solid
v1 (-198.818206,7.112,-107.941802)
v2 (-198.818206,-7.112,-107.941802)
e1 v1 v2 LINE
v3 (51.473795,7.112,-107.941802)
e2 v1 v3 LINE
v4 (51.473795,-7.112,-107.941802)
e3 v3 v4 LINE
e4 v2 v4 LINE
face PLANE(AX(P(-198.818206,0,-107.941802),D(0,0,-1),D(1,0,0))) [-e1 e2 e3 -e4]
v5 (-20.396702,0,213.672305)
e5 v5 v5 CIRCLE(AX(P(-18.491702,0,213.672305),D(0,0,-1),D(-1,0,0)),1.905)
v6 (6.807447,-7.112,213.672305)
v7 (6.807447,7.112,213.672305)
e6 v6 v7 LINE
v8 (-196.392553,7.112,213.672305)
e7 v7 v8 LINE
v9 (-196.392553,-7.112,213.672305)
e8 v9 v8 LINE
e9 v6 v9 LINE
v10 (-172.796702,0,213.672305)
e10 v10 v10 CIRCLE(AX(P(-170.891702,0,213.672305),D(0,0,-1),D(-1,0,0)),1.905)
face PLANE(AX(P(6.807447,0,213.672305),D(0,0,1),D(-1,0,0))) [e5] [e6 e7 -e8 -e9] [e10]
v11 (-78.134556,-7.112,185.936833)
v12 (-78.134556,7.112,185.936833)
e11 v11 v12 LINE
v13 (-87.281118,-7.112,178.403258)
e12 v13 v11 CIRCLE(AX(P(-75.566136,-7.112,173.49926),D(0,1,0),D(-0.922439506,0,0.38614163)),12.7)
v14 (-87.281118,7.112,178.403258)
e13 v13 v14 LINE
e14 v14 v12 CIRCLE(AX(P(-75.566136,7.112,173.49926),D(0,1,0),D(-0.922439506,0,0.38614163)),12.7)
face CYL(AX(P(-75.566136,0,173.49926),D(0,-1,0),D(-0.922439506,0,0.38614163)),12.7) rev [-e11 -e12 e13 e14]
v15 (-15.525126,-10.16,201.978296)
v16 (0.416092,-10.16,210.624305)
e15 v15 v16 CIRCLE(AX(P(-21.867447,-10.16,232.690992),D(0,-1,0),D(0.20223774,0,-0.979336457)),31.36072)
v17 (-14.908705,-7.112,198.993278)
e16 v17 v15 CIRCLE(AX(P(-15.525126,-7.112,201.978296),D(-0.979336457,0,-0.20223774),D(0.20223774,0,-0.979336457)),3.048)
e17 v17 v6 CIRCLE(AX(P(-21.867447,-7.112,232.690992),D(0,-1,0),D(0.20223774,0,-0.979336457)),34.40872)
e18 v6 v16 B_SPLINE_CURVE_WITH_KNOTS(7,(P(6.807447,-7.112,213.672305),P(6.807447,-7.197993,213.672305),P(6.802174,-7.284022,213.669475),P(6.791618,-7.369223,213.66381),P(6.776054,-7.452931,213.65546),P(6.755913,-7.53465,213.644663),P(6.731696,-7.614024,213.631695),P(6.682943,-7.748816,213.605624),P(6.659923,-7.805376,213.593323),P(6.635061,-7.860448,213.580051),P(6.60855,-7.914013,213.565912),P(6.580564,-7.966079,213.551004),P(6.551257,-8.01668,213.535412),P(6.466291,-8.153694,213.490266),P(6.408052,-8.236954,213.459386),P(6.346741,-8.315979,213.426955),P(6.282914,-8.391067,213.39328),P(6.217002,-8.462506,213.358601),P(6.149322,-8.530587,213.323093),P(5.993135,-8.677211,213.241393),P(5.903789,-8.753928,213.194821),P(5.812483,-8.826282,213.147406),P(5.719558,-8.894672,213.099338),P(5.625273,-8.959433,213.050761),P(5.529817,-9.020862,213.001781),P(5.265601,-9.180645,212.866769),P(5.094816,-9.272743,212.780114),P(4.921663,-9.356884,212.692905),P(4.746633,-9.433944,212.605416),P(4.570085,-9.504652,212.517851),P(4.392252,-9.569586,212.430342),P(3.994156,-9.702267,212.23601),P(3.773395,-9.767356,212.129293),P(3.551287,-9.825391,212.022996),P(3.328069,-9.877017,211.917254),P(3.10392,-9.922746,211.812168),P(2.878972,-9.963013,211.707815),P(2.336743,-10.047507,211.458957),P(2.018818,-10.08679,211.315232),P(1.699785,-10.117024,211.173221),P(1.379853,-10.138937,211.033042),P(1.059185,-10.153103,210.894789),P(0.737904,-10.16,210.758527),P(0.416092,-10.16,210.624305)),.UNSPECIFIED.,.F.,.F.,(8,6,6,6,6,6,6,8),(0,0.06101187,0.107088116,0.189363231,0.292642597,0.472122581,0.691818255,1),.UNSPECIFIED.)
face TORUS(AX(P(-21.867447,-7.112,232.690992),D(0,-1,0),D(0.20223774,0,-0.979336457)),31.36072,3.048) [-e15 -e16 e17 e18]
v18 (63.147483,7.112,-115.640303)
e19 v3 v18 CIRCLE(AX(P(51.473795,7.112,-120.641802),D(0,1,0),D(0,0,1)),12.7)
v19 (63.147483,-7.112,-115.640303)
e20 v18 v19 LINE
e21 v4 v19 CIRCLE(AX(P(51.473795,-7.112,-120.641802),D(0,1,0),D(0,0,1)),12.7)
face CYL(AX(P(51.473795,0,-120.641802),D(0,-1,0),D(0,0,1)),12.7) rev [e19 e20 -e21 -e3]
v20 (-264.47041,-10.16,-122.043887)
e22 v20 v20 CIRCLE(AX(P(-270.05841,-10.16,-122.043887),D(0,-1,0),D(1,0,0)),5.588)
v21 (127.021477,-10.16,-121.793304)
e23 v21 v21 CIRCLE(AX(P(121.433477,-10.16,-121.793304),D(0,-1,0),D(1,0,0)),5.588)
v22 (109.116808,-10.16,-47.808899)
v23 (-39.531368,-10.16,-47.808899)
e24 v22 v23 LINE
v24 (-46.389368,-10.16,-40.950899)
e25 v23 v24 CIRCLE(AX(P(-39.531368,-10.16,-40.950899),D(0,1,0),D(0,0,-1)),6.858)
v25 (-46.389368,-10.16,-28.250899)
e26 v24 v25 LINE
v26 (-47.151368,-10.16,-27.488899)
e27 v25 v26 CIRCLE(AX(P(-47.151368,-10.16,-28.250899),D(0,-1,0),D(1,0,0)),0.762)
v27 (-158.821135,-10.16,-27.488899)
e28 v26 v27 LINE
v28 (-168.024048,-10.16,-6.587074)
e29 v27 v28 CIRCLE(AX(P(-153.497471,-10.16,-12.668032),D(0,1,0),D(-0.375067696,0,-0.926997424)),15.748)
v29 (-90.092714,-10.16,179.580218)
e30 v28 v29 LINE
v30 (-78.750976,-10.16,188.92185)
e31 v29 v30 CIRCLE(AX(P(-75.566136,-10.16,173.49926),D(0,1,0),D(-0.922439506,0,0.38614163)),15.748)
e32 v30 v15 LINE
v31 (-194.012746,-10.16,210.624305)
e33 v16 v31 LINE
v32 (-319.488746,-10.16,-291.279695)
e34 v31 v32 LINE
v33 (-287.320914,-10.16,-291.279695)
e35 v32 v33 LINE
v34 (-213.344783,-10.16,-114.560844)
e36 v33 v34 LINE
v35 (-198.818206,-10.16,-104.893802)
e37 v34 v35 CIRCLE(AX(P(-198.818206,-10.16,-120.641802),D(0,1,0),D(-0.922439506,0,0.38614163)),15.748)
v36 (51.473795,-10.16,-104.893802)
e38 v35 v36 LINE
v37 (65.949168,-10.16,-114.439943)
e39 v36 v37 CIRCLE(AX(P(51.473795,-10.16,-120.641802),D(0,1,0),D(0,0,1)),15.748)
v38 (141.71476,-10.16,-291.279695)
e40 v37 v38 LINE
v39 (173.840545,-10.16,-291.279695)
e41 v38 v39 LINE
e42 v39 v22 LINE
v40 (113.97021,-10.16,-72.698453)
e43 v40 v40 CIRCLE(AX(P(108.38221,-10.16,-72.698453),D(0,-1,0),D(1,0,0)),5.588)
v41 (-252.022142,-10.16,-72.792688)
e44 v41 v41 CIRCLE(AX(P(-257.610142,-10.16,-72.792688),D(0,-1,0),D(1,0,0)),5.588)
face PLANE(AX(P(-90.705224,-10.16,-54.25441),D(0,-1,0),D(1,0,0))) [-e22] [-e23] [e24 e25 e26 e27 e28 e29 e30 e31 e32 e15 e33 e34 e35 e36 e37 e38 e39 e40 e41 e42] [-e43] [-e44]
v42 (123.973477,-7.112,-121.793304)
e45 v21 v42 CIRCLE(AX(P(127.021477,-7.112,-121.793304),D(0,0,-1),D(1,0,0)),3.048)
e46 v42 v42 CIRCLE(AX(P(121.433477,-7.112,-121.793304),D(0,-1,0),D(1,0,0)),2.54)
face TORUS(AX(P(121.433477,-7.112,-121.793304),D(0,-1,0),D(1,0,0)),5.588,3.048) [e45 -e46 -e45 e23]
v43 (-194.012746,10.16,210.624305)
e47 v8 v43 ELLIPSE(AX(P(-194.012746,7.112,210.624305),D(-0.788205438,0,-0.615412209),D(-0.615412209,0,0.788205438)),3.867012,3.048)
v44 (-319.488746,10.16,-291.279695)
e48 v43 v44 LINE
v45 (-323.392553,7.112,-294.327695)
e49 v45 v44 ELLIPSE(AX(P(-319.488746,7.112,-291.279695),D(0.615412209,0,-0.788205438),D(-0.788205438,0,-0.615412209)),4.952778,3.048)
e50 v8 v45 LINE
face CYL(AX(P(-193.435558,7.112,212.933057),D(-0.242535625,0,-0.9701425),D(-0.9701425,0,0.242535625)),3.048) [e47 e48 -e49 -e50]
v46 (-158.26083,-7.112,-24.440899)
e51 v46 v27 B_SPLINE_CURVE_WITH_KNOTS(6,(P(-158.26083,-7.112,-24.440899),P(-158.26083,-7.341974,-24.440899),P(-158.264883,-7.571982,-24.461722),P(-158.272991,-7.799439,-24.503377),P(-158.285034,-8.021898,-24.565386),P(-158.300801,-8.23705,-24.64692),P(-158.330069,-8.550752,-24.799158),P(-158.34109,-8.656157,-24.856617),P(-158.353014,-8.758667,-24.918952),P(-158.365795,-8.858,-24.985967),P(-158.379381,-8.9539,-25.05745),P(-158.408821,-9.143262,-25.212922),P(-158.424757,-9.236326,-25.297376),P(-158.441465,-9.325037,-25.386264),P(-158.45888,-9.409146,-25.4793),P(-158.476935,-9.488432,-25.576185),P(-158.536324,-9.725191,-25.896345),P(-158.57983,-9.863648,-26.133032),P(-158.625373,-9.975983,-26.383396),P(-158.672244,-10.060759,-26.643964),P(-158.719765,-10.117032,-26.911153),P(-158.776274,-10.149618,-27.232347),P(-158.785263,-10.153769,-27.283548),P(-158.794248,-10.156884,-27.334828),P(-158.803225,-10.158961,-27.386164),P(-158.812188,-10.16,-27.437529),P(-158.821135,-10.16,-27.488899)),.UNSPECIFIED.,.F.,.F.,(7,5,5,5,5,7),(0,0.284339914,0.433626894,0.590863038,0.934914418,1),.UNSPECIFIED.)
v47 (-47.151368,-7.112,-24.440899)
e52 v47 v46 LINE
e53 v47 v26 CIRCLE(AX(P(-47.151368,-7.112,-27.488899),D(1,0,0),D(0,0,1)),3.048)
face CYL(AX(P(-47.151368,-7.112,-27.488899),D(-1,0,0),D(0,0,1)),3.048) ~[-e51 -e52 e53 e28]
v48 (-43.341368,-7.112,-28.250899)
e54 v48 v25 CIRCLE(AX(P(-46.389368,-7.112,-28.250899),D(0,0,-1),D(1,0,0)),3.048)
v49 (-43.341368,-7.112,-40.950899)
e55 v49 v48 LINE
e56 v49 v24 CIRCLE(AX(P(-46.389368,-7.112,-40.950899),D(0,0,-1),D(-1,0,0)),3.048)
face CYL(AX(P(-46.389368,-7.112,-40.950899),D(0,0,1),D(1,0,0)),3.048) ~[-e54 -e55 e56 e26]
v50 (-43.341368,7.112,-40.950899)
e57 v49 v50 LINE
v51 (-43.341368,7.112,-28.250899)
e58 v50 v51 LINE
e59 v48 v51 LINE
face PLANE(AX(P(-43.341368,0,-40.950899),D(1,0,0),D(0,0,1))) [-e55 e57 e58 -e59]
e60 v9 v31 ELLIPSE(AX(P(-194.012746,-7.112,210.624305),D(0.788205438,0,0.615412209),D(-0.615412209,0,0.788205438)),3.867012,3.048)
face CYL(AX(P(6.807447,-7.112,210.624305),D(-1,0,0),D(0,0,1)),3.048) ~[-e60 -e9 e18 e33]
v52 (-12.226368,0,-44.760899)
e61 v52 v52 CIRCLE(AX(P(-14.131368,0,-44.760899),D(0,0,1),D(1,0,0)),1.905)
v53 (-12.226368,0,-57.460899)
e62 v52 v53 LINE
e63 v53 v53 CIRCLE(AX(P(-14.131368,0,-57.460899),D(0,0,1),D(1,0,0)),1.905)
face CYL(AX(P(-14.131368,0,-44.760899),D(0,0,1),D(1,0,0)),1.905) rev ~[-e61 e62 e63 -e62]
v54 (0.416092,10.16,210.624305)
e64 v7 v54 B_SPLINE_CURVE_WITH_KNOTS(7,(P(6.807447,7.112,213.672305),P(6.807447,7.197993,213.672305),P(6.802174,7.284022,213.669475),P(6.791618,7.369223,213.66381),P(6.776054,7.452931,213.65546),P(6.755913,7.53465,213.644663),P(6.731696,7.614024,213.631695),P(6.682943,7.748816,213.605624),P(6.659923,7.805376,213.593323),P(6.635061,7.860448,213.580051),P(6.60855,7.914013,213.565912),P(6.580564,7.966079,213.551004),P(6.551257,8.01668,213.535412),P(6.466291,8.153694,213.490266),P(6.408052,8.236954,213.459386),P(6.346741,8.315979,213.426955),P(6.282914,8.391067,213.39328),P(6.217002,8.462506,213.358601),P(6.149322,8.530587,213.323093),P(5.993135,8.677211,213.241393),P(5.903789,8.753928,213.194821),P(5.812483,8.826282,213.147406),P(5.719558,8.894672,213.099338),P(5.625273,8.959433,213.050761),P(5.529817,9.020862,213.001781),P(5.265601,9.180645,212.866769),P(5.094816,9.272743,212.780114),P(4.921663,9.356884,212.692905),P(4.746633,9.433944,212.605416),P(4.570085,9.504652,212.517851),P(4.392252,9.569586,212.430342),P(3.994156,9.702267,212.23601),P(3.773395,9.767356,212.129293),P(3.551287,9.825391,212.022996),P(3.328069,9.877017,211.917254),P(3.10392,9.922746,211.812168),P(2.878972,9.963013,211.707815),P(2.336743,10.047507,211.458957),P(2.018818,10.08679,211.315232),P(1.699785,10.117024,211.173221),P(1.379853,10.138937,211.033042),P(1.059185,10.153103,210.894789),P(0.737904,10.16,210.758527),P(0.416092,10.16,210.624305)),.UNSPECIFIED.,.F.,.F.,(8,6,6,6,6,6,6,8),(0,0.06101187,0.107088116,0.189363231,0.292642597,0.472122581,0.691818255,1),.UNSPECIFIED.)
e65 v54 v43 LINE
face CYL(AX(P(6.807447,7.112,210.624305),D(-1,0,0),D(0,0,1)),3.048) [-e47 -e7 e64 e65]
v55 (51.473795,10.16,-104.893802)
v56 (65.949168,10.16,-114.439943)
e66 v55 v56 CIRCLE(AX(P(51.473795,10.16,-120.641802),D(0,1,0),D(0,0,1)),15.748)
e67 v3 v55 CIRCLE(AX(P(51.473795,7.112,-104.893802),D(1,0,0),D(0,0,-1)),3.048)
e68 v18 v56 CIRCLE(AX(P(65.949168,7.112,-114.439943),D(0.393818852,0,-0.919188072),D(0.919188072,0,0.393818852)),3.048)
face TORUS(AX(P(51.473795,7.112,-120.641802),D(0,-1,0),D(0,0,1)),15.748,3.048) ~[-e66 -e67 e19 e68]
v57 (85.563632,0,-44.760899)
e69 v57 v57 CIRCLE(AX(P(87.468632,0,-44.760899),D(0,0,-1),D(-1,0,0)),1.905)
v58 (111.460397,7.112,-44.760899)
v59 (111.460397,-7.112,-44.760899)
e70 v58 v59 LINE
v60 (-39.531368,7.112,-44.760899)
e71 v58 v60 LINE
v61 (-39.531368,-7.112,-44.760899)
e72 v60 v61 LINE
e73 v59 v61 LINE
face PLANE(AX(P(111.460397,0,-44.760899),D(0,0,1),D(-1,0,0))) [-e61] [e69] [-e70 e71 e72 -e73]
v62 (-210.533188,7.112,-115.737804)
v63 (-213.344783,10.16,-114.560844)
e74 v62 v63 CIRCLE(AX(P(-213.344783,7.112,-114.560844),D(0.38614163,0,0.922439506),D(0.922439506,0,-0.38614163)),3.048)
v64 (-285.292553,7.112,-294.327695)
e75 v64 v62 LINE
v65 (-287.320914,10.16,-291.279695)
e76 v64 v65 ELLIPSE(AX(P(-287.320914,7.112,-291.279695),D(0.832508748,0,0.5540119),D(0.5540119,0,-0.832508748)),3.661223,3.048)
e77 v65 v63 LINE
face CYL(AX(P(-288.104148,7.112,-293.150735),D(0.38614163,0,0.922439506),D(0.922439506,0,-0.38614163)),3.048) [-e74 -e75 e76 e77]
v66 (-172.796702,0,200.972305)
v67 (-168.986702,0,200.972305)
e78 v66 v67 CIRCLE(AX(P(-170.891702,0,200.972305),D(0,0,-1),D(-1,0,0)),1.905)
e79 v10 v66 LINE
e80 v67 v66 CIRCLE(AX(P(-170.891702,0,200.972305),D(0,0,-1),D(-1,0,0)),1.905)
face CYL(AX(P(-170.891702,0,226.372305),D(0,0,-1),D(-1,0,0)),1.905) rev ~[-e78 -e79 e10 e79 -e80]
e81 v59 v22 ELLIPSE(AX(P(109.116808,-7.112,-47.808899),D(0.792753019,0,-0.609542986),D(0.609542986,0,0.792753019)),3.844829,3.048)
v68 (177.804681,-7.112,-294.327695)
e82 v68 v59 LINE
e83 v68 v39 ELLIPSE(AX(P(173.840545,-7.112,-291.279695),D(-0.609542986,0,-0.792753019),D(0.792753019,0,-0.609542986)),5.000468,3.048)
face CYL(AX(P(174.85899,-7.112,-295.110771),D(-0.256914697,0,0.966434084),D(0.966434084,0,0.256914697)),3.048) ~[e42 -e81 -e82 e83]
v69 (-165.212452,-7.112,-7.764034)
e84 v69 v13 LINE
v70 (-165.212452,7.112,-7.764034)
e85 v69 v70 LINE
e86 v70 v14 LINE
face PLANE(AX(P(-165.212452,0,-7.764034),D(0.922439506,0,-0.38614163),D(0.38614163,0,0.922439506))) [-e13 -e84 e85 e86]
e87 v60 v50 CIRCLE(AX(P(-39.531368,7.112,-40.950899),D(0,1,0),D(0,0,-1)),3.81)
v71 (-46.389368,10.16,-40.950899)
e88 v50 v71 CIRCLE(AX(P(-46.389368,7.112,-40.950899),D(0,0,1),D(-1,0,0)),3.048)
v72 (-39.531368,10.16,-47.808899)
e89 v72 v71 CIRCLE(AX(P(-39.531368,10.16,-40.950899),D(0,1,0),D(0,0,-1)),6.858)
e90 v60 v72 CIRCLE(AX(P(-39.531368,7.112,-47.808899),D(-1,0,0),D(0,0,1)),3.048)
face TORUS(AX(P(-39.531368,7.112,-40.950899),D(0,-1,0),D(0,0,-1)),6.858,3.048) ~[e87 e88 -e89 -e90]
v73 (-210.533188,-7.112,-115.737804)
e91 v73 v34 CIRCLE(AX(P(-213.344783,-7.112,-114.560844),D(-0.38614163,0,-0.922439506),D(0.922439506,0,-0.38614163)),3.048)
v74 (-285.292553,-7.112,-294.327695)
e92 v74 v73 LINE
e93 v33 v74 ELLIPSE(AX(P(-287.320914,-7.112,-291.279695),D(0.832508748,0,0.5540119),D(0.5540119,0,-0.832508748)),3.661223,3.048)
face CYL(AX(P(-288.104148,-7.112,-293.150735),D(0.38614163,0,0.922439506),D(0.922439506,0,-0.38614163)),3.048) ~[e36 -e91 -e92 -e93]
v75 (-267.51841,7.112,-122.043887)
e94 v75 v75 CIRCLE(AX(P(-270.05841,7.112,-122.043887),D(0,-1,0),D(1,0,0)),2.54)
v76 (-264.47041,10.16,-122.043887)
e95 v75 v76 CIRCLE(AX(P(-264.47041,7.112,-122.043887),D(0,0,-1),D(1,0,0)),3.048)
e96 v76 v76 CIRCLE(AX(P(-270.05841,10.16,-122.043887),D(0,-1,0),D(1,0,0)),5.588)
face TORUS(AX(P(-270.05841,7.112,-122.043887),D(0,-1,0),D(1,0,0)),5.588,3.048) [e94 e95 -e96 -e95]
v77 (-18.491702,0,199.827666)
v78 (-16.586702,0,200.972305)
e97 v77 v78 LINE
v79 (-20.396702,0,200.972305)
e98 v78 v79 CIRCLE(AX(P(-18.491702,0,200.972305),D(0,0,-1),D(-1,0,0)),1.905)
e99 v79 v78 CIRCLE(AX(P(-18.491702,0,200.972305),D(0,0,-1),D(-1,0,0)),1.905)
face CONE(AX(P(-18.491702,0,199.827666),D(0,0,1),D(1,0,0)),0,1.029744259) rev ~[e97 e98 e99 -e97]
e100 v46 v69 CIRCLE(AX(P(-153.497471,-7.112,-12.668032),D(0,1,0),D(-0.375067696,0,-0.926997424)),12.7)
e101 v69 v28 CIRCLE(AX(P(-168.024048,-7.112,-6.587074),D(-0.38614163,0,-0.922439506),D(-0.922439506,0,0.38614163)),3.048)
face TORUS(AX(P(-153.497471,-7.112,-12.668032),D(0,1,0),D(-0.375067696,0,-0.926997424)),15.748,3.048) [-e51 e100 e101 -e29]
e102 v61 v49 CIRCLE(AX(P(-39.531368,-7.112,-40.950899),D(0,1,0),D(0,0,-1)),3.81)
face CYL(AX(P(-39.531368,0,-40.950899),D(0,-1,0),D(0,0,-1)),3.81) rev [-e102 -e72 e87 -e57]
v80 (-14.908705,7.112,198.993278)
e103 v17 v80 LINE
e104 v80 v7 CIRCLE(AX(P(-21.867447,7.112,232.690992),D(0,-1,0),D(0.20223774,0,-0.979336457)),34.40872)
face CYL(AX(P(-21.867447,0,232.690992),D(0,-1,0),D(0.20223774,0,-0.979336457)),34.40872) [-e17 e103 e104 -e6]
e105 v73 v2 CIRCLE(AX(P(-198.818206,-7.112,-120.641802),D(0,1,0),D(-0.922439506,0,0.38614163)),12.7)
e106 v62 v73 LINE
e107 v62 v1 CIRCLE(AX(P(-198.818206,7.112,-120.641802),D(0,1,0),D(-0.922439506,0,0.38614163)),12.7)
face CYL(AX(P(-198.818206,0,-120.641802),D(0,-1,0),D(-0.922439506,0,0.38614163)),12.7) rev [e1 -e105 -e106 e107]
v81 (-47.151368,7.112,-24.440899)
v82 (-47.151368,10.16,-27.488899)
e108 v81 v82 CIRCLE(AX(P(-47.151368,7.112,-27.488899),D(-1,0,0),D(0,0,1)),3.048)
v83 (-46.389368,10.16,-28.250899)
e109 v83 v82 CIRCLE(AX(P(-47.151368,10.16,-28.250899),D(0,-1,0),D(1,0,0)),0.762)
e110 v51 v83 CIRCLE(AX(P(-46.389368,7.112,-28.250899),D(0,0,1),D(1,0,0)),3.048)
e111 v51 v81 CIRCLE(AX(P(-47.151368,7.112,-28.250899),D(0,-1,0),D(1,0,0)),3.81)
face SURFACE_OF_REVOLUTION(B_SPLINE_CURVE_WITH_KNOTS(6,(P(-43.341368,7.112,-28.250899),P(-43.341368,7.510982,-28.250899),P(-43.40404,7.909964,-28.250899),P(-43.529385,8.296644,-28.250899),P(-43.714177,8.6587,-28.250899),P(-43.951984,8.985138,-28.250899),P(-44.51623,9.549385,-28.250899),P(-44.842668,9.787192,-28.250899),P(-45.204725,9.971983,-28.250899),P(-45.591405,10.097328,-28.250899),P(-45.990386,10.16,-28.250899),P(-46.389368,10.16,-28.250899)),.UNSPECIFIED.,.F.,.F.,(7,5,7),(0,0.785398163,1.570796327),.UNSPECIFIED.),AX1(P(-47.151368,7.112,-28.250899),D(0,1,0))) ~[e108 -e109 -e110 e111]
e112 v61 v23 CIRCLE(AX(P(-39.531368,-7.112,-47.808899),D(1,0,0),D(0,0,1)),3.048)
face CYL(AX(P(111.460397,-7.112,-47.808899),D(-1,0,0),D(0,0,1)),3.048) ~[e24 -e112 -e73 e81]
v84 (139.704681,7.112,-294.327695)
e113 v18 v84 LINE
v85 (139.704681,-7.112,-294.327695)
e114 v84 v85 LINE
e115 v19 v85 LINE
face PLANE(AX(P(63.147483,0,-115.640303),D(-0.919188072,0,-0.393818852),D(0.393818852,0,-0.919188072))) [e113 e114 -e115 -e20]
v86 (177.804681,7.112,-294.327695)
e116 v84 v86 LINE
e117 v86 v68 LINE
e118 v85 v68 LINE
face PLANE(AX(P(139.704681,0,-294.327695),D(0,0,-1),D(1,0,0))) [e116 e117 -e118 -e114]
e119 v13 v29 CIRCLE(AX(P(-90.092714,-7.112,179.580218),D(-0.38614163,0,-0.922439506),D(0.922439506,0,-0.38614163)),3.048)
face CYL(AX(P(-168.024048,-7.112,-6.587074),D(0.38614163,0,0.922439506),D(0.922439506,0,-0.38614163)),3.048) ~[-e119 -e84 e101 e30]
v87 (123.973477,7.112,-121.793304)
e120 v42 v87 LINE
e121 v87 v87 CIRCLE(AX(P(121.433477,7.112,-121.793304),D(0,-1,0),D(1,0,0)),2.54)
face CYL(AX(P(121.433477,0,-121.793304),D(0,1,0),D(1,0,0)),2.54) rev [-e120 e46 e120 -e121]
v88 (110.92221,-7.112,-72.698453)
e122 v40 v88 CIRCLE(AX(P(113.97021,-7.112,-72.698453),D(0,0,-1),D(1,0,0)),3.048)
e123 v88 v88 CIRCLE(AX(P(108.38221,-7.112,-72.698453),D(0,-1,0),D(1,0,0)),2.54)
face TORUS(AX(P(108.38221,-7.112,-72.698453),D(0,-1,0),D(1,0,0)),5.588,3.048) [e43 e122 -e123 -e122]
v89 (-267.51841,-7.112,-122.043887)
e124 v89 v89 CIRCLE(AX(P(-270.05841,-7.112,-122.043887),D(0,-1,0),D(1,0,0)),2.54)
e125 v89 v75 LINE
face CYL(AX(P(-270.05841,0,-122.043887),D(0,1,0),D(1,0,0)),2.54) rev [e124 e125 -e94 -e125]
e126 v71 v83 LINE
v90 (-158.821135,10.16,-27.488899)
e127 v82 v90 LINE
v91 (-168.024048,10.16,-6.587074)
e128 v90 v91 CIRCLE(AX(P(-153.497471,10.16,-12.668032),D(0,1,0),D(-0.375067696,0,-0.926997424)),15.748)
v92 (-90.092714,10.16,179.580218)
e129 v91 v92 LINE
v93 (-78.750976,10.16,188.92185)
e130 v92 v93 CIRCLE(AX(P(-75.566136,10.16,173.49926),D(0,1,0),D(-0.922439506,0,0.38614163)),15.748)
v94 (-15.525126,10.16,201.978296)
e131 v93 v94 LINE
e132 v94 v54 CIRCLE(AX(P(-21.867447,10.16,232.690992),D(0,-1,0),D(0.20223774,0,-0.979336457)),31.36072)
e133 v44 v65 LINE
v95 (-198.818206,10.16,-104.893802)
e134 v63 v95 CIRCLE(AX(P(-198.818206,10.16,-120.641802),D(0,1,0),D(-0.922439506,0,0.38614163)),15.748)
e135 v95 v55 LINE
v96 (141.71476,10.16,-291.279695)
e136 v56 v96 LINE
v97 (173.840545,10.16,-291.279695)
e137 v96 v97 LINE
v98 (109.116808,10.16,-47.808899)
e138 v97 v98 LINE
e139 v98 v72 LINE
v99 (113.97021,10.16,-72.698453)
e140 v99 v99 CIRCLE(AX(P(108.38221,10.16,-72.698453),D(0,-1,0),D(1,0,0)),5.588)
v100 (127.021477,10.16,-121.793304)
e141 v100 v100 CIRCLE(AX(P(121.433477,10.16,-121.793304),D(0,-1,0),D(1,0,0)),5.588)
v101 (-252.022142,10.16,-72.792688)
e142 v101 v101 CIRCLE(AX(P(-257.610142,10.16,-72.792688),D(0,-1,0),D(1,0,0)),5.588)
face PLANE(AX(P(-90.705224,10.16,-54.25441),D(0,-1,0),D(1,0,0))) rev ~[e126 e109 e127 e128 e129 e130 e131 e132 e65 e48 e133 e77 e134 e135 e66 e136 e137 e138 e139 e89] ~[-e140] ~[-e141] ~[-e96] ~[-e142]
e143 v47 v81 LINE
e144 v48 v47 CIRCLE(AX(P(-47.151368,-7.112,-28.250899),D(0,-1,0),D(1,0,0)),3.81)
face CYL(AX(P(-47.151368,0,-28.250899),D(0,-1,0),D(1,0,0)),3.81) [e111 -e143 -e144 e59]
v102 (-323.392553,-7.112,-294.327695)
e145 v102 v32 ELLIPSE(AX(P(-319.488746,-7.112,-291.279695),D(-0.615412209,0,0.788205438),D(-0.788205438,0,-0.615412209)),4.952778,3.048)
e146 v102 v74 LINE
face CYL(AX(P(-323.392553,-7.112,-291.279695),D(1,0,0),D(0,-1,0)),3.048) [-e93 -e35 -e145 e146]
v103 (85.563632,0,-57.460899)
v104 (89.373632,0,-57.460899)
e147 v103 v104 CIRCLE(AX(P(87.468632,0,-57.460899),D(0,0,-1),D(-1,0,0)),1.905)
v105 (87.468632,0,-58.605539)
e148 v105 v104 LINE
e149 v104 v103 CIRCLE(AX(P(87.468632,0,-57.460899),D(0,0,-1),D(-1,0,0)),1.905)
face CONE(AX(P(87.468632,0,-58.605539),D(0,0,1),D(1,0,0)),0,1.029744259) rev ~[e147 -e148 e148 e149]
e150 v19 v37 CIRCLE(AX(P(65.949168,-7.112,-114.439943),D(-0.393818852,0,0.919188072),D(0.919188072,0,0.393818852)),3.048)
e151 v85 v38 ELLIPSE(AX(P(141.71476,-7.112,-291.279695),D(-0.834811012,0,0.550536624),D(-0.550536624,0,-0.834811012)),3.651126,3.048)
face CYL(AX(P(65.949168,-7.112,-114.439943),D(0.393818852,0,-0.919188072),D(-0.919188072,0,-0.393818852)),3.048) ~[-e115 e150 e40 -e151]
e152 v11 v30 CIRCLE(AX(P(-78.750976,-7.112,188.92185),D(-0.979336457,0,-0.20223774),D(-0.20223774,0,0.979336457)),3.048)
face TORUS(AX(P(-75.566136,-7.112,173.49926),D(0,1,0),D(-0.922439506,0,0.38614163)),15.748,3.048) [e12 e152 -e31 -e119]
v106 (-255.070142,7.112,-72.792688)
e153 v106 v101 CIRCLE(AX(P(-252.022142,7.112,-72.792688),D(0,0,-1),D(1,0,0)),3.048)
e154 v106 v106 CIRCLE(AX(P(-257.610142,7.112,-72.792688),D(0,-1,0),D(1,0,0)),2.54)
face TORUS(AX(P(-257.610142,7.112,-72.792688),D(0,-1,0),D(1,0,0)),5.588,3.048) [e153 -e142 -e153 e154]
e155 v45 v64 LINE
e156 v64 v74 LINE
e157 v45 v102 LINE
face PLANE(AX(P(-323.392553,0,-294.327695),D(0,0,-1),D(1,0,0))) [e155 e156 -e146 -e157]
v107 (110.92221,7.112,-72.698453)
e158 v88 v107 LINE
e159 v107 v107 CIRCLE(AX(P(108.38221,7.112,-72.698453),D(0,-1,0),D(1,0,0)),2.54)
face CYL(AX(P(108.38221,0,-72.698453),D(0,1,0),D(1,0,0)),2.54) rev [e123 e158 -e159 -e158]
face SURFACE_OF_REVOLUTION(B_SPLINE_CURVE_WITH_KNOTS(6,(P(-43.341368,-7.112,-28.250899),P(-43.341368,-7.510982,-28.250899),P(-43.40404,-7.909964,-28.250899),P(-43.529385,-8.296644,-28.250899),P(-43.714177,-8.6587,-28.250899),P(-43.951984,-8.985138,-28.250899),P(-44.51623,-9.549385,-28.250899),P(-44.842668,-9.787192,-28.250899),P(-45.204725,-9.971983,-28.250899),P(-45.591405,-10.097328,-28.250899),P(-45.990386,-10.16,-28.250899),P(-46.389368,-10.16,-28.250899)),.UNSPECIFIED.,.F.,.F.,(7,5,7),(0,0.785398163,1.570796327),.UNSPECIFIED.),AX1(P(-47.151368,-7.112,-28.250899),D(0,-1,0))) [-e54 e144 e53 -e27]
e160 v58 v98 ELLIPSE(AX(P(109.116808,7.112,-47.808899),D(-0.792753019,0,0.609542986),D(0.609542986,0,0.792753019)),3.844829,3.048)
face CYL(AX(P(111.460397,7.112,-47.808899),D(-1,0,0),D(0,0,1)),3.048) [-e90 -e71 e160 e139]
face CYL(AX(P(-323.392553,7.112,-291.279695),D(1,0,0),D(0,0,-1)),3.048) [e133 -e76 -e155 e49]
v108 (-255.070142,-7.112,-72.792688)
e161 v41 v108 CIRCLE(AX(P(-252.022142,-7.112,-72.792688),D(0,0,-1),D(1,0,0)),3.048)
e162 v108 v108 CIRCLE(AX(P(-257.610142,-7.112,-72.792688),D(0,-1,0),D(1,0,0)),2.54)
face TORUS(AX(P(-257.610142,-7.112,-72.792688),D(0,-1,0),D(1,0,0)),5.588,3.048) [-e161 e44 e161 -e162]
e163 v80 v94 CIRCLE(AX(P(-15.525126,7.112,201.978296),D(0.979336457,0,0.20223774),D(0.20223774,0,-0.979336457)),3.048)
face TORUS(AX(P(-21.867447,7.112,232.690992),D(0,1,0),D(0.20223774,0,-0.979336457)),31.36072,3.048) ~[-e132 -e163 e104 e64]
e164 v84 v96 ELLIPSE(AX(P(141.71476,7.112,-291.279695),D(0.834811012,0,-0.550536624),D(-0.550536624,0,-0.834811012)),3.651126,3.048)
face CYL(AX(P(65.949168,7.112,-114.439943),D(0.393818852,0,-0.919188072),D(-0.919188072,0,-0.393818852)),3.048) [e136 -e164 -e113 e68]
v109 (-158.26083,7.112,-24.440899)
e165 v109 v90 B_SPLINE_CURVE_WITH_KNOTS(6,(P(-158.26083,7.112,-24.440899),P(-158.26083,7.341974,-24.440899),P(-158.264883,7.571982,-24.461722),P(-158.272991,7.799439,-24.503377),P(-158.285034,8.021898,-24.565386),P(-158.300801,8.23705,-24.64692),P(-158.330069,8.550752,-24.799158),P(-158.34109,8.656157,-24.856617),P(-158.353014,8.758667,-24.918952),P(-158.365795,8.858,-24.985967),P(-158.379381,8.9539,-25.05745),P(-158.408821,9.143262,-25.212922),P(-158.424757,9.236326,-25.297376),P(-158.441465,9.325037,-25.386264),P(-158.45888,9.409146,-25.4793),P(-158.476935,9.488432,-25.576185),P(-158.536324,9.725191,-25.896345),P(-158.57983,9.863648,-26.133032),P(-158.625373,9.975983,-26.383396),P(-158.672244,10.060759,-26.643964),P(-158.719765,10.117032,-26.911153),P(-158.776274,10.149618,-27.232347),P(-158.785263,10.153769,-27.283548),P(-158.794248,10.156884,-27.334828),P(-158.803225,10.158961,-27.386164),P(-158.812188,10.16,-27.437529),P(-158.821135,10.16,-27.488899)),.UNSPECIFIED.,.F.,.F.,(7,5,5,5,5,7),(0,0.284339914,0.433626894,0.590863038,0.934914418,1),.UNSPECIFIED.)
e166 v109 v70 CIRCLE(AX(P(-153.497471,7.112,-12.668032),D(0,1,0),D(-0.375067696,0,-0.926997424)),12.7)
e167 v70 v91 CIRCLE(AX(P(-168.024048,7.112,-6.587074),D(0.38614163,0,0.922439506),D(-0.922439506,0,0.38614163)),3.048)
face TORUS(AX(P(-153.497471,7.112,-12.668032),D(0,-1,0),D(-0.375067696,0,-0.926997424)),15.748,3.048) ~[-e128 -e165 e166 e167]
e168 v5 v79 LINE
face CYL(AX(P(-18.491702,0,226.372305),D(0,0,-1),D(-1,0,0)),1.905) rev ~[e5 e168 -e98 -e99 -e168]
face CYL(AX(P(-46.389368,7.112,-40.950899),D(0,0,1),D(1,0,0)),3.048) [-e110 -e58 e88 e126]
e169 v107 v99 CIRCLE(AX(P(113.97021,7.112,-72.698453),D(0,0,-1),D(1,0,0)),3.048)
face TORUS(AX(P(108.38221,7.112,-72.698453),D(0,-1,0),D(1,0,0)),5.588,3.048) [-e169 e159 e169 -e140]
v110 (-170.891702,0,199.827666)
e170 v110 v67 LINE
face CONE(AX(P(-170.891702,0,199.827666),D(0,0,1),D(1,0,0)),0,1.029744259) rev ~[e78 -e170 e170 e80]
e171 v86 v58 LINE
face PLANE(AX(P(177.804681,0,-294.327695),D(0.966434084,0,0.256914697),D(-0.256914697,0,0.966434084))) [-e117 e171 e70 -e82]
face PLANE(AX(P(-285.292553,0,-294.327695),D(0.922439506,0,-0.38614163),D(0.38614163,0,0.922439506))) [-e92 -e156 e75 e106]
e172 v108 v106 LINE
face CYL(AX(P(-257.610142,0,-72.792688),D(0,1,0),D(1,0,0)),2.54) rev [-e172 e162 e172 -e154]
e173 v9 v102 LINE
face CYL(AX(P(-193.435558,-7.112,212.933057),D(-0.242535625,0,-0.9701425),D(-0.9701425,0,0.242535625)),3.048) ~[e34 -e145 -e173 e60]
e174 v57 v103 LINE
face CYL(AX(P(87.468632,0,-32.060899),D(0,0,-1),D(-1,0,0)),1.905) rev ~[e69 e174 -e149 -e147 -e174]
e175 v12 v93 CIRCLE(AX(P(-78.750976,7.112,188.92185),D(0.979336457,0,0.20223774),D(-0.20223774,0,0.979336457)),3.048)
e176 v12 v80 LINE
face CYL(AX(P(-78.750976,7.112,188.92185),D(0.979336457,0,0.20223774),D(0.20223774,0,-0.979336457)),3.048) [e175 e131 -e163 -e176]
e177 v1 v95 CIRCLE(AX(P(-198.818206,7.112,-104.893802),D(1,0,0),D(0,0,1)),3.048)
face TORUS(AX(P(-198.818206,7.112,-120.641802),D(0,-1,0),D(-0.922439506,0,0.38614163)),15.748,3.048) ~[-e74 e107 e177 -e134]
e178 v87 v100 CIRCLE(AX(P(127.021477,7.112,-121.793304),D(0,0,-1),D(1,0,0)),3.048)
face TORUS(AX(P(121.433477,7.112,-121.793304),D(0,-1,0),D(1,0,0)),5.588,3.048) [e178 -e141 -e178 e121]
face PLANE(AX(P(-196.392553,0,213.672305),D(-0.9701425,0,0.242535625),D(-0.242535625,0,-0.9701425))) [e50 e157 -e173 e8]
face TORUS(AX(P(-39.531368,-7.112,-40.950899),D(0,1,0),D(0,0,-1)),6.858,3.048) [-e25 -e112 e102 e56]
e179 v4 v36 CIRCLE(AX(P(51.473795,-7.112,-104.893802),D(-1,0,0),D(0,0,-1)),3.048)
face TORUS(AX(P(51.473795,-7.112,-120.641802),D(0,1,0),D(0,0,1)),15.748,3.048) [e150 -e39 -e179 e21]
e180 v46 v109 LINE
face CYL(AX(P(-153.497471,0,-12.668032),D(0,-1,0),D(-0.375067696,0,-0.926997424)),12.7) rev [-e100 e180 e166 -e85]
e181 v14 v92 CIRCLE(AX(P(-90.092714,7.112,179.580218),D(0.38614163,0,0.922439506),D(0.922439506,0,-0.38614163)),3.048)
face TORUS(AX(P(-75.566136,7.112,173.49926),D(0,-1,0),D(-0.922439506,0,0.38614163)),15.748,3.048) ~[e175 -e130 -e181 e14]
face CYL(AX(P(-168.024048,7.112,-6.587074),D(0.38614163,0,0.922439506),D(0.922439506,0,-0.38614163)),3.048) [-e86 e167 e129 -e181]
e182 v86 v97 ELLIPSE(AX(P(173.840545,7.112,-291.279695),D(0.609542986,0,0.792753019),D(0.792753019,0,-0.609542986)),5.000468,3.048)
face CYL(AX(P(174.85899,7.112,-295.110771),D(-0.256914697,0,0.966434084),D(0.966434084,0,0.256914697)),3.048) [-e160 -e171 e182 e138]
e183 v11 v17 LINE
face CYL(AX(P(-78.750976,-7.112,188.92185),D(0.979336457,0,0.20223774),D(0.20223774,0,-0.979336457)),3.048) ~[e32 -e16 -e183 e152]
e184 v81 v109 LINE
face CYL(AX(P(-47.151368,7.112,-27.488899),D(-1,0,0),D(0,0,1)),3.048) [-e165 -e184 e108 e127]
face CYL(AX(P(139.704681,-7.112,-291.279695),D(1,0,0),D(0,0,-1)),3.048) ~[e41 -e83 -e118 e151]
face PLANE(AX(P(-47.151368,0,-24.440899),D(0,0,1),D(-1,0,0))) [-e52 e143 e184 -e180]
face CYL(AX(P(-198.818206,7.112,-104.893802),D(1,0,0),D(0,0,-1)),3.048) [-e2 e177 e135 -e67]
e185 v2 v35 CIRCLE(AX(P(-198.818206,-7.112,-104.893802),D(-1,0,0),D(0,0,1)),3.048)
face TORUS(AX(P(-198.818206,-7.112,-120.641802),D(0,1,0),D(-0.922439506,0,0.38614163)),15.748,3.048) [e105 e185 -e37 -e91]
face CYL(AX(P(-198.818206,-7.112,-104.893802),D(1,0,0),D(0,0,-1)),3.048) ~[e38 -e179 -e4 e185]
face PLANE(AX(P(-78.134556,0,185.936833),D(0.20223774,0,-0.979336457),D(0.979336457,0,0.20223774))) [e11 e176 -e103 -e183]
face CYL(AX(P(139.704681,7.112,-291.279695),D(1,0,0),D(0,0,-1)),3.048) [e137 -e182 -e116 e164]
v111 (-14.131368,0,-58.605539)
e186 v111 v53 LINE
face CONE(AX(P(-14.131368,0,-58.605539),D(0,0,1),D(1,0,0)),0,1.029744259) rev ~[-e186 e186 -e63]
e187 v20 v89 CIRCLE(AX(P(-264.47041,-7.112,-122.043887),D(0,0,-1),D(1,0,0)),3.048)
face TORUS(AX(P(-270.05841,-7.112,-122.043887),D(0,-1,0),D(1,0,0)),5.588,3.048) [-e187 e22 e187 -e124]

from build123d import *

# Parameters (mm, degrees)
F0_R     = 2.54
F1_DEPTH = 10.16
F2_R     = 3.048
F4_D     = 3.81
F4_DEPTH = 12.7
F4_TIP   = 1.1446394792
F5_D     = 3.81
F5_DEPTH = 12.7
F5_TIP   = 1.1446394792
F7_D     = 3.81
F7_DEPTH = 12.7
F7_TIP   = 1.1446394792
F8_D     = 3.81
F8_DEPTH = 12.7
F8_TIP   = 1.1446394792


with BuildPart() as f1:
    # F0 (on Front) → F1 (new body, symmetric)
    with BuildSketch(Plane.XZ):
        with BuildLine():
            Line((-196.3925526364, 213.6723054396), (-323.3925526364, -294.3276945604))
            Line((-323.3925526364, -294.3276945604), (-285.2925526364, -294.3276945604))
            Line((-285.2925526364, -294.3276945604), (-210.5331877458, -115.7378037345))
            ThreePointArc((-210.5331877458, -115.7378037345), (-205.8541571501, -110.0689413417), (-198.8182060253, -107.9418024384))
            Line((-198.8182060253, -107.9418024384), (51.4737945071, -107.9418024384))
            ThreePointArc((51.4737945071, -107.9418024384), (58.4656096262, -110.0397025831), (63.1474830208, -115.6403030146))
            Line((63.1474830208, -115.6403030146), (139.7046812711, -294.3276945604))
            Line((139.7046812711, -294.3276945604), (177.8046812711, -294.3276945604))
            Line((177.8046812711, -294.3276945604), (111.460397134, -44.7608994913))
            Line((111.460397134, -44.7608994913), (-39.5313684368, -44.7608994913))
            ThreePointArc((-39.5313684368, -44.7608994913), (-42.2254452731, -43.6449763276), (-43.3413684368, -40.9508994913))
            Line((-43.3413684368, -40.9508994913), (-43.3413684368, -28.2508994913))
            ThreePointArc((-43.3413684368, -28.2508994913), (-44.4572916005, -25.556822655), (-47.1513684368, -24.4408994913))
            Line((-47.1513684368, -24.4408994913), (-158.2608304308, -24.4408994913))
            ThreePointArc((-158.2608304308, -24.4408994913), (-165.2198168334, -17.5544011005), (-165.2124524117, -7.7640335076))
            Line((-165.2124524117, -7.7640335076), (-87.2811179538, 178.4032584846))
            ThreePointArc((-87.2811179538, 178.4032584846), (-83.640327931, 183.3021893647), (-78.1345555253, 185.9368327892))
            Line((-78.1345555253, 185.9368327892), (-14.9087051641, 198.9932782637))
            ThreePointArc((-14.9087051641, 198.9932782637), (-2.5981069165, 204.1839308563), (6.8074473636, 213.6723054396))
            Line((6.8074473636, 213.6723054396), (-196.3925526364, 213.6723054396))
        make_face()
        with Locations((-270.0584104226, -122.0438866487)):
            Circle(F0_R, mode=Mode.SUBTRACT)
        with Locations((-257.6101420156, -72.7926875398)):
            Circle(F0_R, mode=Mode.SUBTRACT)
        with Locations((121.4334767302, -121.793304007)):
            Circle(F0_R, mode=Mode.SUBTRACT)
        with Locations((108.3822101371, -72.6984525426)):
            Circle(F0_R, mode=Mode.SUBTRACT)
    extrude(amount=F1_DEPTH, both=True)

    # F2
    f2_edges = [f1.edges().sort_by_distance(p)[0] for p in [
        (-83.640328, -10.16, 183.302189),
        (-46.52163, -10.16, 192.465056),
        (-2.598107, -10.16, 204.183931),
        (-94.792553, -10.16, 213.672305),
        (-259.892553, -10.16, -40.327695),
        (-304.342553, -10.16, -294.327695),
        (-247.91287, -10.16, -205.032749),
        (-205.854157, -10.16, -110.068941),
        (-73.672206, -10.16, -107.941802),
        (58.46561, -10.16, -110.039703),
        (101.426082, -10.16, -204.983999),
        (158.754681, -10.16, -294.327695),
        (144.632539, -10.16, -169.544297),
        (35.964514, -10.16, -44.760899),
        (-42.225445, -10.16, -43.644976),
        (-43.341368, -10.16, -34.600899),
        (-44.457292, -10.16, -25.556823),
        (-102.706099, -10.16, -24.440899),
        (-165.219817, -10.16, -17.554401),
        (-126.246785, -10.16, 85.319612),
        (-272.59841, -10.16, -122.043887),
        (-260.150142, -10.16, -72.792688),
        (118.893477, -10.16, -121.793304),
        (105.84221, -10.16, -72.698453),
        (-83.640328, 10.16, 183.302189),
        (-46.52163, 10.16, 192.465056),
        (-2.598107, 10.16, 204.183931),
        (-94.792553, 10.16, 213.672305),
        (-259.892553, 10.16, -40.327695),
        (-304.342553, 10.16, -294.327695),
        (-247.91287, 10.16, -205.032749),
        (-205.854157, 10.16, -110.068941),
        (-73.672206, 10.16, -107.941802),
        (58.46561, 10.16, -110.039703),
        (101.426082, 10.16, -204.983999),
        (158.754681, 10.16, -294.327695),
        (144.632539, 10.16, -169.544297),
        (35.964514, 10.16, -44.760899),
        (-42.225445, 10.16, -43.644976),
        (-43.341368, 10.16, -34.600899),
        (-44.457292, 10.16, -25.556823),
        (-102.706099, 10.16, -24.440899),
        (-165.219817, 10.16, -17.554401),
        (-126.246785, 10.16, 85.319612),
        (-272.59841, 10.16, -122.043887),
        (-260.150142, 10.16, -72.792688),
        (118.893477, 10.16, -121.793304),
        (105.84221, 10.16, -72.698453),
    ]]
    fillet(f2_edges, radius=F2_R)

    # F4
    with Locations(Plane.XY.offset(213.6723054396)):
        with Locations((-170.8917021751, 0)):
            Hole(F4_D / 2, depth=F4_DEPTH)
            with Locations((0, 0, -(F4_DEPTH + F4_TIP / 2))):  # 118° drill point
                Cone(0, F4_D / 2, F4_TIP, mode=Mode.SUBTRACT)

    # F5
    with Locations(Plane.XY.offset(213.6723054396)):
        with Locations((-18.4917021751, 0)):
            Hole(F5_D / 2, depth=F5_DEPTH)
            with Locations((0, 0, -(F5_DEPTH + F5_TIP / 2))):  # 118° drill point
                Cone(0, F5_D / 2, F5_TIP, mode=Mode.SUBTRACT)

    # F7 (one way)
    with BuildSketch(Plane.XY.offset(-44.7608994913)):
        with Locations((-14.1313684368, 0)):
            Circle(F7_D / 2)
    extrude(amount=-F7_DEPTH, mode=Mode.SUBTRACT)
    with Locations(Plane.XY.offset(-44.7608994913)):
        with Locations((-14.1313684368, 0)):
            with Locations((0, 0, -(F7_DEPTH + F7_TIP / 2))):  # 118° drill point
                Cone(0, F7_D / 2, F7_TIP, mode=Mode.SUBTRACT)

    # F8
    with Locations(Plane.XY.offset(-44.7608994913)):
        with Locations((87.4686315632, 0)):
            Hole(F8_D / 2, depth=F8_DEPTH)
            with Locations((0, 0, -(F8_DEPTH + F8_TIP / 2))):  # 118° drill point
                Cone(0, F8_D / 2, F8_TIP, mode=Mode.SUBTRACT)


solid = f1.part
